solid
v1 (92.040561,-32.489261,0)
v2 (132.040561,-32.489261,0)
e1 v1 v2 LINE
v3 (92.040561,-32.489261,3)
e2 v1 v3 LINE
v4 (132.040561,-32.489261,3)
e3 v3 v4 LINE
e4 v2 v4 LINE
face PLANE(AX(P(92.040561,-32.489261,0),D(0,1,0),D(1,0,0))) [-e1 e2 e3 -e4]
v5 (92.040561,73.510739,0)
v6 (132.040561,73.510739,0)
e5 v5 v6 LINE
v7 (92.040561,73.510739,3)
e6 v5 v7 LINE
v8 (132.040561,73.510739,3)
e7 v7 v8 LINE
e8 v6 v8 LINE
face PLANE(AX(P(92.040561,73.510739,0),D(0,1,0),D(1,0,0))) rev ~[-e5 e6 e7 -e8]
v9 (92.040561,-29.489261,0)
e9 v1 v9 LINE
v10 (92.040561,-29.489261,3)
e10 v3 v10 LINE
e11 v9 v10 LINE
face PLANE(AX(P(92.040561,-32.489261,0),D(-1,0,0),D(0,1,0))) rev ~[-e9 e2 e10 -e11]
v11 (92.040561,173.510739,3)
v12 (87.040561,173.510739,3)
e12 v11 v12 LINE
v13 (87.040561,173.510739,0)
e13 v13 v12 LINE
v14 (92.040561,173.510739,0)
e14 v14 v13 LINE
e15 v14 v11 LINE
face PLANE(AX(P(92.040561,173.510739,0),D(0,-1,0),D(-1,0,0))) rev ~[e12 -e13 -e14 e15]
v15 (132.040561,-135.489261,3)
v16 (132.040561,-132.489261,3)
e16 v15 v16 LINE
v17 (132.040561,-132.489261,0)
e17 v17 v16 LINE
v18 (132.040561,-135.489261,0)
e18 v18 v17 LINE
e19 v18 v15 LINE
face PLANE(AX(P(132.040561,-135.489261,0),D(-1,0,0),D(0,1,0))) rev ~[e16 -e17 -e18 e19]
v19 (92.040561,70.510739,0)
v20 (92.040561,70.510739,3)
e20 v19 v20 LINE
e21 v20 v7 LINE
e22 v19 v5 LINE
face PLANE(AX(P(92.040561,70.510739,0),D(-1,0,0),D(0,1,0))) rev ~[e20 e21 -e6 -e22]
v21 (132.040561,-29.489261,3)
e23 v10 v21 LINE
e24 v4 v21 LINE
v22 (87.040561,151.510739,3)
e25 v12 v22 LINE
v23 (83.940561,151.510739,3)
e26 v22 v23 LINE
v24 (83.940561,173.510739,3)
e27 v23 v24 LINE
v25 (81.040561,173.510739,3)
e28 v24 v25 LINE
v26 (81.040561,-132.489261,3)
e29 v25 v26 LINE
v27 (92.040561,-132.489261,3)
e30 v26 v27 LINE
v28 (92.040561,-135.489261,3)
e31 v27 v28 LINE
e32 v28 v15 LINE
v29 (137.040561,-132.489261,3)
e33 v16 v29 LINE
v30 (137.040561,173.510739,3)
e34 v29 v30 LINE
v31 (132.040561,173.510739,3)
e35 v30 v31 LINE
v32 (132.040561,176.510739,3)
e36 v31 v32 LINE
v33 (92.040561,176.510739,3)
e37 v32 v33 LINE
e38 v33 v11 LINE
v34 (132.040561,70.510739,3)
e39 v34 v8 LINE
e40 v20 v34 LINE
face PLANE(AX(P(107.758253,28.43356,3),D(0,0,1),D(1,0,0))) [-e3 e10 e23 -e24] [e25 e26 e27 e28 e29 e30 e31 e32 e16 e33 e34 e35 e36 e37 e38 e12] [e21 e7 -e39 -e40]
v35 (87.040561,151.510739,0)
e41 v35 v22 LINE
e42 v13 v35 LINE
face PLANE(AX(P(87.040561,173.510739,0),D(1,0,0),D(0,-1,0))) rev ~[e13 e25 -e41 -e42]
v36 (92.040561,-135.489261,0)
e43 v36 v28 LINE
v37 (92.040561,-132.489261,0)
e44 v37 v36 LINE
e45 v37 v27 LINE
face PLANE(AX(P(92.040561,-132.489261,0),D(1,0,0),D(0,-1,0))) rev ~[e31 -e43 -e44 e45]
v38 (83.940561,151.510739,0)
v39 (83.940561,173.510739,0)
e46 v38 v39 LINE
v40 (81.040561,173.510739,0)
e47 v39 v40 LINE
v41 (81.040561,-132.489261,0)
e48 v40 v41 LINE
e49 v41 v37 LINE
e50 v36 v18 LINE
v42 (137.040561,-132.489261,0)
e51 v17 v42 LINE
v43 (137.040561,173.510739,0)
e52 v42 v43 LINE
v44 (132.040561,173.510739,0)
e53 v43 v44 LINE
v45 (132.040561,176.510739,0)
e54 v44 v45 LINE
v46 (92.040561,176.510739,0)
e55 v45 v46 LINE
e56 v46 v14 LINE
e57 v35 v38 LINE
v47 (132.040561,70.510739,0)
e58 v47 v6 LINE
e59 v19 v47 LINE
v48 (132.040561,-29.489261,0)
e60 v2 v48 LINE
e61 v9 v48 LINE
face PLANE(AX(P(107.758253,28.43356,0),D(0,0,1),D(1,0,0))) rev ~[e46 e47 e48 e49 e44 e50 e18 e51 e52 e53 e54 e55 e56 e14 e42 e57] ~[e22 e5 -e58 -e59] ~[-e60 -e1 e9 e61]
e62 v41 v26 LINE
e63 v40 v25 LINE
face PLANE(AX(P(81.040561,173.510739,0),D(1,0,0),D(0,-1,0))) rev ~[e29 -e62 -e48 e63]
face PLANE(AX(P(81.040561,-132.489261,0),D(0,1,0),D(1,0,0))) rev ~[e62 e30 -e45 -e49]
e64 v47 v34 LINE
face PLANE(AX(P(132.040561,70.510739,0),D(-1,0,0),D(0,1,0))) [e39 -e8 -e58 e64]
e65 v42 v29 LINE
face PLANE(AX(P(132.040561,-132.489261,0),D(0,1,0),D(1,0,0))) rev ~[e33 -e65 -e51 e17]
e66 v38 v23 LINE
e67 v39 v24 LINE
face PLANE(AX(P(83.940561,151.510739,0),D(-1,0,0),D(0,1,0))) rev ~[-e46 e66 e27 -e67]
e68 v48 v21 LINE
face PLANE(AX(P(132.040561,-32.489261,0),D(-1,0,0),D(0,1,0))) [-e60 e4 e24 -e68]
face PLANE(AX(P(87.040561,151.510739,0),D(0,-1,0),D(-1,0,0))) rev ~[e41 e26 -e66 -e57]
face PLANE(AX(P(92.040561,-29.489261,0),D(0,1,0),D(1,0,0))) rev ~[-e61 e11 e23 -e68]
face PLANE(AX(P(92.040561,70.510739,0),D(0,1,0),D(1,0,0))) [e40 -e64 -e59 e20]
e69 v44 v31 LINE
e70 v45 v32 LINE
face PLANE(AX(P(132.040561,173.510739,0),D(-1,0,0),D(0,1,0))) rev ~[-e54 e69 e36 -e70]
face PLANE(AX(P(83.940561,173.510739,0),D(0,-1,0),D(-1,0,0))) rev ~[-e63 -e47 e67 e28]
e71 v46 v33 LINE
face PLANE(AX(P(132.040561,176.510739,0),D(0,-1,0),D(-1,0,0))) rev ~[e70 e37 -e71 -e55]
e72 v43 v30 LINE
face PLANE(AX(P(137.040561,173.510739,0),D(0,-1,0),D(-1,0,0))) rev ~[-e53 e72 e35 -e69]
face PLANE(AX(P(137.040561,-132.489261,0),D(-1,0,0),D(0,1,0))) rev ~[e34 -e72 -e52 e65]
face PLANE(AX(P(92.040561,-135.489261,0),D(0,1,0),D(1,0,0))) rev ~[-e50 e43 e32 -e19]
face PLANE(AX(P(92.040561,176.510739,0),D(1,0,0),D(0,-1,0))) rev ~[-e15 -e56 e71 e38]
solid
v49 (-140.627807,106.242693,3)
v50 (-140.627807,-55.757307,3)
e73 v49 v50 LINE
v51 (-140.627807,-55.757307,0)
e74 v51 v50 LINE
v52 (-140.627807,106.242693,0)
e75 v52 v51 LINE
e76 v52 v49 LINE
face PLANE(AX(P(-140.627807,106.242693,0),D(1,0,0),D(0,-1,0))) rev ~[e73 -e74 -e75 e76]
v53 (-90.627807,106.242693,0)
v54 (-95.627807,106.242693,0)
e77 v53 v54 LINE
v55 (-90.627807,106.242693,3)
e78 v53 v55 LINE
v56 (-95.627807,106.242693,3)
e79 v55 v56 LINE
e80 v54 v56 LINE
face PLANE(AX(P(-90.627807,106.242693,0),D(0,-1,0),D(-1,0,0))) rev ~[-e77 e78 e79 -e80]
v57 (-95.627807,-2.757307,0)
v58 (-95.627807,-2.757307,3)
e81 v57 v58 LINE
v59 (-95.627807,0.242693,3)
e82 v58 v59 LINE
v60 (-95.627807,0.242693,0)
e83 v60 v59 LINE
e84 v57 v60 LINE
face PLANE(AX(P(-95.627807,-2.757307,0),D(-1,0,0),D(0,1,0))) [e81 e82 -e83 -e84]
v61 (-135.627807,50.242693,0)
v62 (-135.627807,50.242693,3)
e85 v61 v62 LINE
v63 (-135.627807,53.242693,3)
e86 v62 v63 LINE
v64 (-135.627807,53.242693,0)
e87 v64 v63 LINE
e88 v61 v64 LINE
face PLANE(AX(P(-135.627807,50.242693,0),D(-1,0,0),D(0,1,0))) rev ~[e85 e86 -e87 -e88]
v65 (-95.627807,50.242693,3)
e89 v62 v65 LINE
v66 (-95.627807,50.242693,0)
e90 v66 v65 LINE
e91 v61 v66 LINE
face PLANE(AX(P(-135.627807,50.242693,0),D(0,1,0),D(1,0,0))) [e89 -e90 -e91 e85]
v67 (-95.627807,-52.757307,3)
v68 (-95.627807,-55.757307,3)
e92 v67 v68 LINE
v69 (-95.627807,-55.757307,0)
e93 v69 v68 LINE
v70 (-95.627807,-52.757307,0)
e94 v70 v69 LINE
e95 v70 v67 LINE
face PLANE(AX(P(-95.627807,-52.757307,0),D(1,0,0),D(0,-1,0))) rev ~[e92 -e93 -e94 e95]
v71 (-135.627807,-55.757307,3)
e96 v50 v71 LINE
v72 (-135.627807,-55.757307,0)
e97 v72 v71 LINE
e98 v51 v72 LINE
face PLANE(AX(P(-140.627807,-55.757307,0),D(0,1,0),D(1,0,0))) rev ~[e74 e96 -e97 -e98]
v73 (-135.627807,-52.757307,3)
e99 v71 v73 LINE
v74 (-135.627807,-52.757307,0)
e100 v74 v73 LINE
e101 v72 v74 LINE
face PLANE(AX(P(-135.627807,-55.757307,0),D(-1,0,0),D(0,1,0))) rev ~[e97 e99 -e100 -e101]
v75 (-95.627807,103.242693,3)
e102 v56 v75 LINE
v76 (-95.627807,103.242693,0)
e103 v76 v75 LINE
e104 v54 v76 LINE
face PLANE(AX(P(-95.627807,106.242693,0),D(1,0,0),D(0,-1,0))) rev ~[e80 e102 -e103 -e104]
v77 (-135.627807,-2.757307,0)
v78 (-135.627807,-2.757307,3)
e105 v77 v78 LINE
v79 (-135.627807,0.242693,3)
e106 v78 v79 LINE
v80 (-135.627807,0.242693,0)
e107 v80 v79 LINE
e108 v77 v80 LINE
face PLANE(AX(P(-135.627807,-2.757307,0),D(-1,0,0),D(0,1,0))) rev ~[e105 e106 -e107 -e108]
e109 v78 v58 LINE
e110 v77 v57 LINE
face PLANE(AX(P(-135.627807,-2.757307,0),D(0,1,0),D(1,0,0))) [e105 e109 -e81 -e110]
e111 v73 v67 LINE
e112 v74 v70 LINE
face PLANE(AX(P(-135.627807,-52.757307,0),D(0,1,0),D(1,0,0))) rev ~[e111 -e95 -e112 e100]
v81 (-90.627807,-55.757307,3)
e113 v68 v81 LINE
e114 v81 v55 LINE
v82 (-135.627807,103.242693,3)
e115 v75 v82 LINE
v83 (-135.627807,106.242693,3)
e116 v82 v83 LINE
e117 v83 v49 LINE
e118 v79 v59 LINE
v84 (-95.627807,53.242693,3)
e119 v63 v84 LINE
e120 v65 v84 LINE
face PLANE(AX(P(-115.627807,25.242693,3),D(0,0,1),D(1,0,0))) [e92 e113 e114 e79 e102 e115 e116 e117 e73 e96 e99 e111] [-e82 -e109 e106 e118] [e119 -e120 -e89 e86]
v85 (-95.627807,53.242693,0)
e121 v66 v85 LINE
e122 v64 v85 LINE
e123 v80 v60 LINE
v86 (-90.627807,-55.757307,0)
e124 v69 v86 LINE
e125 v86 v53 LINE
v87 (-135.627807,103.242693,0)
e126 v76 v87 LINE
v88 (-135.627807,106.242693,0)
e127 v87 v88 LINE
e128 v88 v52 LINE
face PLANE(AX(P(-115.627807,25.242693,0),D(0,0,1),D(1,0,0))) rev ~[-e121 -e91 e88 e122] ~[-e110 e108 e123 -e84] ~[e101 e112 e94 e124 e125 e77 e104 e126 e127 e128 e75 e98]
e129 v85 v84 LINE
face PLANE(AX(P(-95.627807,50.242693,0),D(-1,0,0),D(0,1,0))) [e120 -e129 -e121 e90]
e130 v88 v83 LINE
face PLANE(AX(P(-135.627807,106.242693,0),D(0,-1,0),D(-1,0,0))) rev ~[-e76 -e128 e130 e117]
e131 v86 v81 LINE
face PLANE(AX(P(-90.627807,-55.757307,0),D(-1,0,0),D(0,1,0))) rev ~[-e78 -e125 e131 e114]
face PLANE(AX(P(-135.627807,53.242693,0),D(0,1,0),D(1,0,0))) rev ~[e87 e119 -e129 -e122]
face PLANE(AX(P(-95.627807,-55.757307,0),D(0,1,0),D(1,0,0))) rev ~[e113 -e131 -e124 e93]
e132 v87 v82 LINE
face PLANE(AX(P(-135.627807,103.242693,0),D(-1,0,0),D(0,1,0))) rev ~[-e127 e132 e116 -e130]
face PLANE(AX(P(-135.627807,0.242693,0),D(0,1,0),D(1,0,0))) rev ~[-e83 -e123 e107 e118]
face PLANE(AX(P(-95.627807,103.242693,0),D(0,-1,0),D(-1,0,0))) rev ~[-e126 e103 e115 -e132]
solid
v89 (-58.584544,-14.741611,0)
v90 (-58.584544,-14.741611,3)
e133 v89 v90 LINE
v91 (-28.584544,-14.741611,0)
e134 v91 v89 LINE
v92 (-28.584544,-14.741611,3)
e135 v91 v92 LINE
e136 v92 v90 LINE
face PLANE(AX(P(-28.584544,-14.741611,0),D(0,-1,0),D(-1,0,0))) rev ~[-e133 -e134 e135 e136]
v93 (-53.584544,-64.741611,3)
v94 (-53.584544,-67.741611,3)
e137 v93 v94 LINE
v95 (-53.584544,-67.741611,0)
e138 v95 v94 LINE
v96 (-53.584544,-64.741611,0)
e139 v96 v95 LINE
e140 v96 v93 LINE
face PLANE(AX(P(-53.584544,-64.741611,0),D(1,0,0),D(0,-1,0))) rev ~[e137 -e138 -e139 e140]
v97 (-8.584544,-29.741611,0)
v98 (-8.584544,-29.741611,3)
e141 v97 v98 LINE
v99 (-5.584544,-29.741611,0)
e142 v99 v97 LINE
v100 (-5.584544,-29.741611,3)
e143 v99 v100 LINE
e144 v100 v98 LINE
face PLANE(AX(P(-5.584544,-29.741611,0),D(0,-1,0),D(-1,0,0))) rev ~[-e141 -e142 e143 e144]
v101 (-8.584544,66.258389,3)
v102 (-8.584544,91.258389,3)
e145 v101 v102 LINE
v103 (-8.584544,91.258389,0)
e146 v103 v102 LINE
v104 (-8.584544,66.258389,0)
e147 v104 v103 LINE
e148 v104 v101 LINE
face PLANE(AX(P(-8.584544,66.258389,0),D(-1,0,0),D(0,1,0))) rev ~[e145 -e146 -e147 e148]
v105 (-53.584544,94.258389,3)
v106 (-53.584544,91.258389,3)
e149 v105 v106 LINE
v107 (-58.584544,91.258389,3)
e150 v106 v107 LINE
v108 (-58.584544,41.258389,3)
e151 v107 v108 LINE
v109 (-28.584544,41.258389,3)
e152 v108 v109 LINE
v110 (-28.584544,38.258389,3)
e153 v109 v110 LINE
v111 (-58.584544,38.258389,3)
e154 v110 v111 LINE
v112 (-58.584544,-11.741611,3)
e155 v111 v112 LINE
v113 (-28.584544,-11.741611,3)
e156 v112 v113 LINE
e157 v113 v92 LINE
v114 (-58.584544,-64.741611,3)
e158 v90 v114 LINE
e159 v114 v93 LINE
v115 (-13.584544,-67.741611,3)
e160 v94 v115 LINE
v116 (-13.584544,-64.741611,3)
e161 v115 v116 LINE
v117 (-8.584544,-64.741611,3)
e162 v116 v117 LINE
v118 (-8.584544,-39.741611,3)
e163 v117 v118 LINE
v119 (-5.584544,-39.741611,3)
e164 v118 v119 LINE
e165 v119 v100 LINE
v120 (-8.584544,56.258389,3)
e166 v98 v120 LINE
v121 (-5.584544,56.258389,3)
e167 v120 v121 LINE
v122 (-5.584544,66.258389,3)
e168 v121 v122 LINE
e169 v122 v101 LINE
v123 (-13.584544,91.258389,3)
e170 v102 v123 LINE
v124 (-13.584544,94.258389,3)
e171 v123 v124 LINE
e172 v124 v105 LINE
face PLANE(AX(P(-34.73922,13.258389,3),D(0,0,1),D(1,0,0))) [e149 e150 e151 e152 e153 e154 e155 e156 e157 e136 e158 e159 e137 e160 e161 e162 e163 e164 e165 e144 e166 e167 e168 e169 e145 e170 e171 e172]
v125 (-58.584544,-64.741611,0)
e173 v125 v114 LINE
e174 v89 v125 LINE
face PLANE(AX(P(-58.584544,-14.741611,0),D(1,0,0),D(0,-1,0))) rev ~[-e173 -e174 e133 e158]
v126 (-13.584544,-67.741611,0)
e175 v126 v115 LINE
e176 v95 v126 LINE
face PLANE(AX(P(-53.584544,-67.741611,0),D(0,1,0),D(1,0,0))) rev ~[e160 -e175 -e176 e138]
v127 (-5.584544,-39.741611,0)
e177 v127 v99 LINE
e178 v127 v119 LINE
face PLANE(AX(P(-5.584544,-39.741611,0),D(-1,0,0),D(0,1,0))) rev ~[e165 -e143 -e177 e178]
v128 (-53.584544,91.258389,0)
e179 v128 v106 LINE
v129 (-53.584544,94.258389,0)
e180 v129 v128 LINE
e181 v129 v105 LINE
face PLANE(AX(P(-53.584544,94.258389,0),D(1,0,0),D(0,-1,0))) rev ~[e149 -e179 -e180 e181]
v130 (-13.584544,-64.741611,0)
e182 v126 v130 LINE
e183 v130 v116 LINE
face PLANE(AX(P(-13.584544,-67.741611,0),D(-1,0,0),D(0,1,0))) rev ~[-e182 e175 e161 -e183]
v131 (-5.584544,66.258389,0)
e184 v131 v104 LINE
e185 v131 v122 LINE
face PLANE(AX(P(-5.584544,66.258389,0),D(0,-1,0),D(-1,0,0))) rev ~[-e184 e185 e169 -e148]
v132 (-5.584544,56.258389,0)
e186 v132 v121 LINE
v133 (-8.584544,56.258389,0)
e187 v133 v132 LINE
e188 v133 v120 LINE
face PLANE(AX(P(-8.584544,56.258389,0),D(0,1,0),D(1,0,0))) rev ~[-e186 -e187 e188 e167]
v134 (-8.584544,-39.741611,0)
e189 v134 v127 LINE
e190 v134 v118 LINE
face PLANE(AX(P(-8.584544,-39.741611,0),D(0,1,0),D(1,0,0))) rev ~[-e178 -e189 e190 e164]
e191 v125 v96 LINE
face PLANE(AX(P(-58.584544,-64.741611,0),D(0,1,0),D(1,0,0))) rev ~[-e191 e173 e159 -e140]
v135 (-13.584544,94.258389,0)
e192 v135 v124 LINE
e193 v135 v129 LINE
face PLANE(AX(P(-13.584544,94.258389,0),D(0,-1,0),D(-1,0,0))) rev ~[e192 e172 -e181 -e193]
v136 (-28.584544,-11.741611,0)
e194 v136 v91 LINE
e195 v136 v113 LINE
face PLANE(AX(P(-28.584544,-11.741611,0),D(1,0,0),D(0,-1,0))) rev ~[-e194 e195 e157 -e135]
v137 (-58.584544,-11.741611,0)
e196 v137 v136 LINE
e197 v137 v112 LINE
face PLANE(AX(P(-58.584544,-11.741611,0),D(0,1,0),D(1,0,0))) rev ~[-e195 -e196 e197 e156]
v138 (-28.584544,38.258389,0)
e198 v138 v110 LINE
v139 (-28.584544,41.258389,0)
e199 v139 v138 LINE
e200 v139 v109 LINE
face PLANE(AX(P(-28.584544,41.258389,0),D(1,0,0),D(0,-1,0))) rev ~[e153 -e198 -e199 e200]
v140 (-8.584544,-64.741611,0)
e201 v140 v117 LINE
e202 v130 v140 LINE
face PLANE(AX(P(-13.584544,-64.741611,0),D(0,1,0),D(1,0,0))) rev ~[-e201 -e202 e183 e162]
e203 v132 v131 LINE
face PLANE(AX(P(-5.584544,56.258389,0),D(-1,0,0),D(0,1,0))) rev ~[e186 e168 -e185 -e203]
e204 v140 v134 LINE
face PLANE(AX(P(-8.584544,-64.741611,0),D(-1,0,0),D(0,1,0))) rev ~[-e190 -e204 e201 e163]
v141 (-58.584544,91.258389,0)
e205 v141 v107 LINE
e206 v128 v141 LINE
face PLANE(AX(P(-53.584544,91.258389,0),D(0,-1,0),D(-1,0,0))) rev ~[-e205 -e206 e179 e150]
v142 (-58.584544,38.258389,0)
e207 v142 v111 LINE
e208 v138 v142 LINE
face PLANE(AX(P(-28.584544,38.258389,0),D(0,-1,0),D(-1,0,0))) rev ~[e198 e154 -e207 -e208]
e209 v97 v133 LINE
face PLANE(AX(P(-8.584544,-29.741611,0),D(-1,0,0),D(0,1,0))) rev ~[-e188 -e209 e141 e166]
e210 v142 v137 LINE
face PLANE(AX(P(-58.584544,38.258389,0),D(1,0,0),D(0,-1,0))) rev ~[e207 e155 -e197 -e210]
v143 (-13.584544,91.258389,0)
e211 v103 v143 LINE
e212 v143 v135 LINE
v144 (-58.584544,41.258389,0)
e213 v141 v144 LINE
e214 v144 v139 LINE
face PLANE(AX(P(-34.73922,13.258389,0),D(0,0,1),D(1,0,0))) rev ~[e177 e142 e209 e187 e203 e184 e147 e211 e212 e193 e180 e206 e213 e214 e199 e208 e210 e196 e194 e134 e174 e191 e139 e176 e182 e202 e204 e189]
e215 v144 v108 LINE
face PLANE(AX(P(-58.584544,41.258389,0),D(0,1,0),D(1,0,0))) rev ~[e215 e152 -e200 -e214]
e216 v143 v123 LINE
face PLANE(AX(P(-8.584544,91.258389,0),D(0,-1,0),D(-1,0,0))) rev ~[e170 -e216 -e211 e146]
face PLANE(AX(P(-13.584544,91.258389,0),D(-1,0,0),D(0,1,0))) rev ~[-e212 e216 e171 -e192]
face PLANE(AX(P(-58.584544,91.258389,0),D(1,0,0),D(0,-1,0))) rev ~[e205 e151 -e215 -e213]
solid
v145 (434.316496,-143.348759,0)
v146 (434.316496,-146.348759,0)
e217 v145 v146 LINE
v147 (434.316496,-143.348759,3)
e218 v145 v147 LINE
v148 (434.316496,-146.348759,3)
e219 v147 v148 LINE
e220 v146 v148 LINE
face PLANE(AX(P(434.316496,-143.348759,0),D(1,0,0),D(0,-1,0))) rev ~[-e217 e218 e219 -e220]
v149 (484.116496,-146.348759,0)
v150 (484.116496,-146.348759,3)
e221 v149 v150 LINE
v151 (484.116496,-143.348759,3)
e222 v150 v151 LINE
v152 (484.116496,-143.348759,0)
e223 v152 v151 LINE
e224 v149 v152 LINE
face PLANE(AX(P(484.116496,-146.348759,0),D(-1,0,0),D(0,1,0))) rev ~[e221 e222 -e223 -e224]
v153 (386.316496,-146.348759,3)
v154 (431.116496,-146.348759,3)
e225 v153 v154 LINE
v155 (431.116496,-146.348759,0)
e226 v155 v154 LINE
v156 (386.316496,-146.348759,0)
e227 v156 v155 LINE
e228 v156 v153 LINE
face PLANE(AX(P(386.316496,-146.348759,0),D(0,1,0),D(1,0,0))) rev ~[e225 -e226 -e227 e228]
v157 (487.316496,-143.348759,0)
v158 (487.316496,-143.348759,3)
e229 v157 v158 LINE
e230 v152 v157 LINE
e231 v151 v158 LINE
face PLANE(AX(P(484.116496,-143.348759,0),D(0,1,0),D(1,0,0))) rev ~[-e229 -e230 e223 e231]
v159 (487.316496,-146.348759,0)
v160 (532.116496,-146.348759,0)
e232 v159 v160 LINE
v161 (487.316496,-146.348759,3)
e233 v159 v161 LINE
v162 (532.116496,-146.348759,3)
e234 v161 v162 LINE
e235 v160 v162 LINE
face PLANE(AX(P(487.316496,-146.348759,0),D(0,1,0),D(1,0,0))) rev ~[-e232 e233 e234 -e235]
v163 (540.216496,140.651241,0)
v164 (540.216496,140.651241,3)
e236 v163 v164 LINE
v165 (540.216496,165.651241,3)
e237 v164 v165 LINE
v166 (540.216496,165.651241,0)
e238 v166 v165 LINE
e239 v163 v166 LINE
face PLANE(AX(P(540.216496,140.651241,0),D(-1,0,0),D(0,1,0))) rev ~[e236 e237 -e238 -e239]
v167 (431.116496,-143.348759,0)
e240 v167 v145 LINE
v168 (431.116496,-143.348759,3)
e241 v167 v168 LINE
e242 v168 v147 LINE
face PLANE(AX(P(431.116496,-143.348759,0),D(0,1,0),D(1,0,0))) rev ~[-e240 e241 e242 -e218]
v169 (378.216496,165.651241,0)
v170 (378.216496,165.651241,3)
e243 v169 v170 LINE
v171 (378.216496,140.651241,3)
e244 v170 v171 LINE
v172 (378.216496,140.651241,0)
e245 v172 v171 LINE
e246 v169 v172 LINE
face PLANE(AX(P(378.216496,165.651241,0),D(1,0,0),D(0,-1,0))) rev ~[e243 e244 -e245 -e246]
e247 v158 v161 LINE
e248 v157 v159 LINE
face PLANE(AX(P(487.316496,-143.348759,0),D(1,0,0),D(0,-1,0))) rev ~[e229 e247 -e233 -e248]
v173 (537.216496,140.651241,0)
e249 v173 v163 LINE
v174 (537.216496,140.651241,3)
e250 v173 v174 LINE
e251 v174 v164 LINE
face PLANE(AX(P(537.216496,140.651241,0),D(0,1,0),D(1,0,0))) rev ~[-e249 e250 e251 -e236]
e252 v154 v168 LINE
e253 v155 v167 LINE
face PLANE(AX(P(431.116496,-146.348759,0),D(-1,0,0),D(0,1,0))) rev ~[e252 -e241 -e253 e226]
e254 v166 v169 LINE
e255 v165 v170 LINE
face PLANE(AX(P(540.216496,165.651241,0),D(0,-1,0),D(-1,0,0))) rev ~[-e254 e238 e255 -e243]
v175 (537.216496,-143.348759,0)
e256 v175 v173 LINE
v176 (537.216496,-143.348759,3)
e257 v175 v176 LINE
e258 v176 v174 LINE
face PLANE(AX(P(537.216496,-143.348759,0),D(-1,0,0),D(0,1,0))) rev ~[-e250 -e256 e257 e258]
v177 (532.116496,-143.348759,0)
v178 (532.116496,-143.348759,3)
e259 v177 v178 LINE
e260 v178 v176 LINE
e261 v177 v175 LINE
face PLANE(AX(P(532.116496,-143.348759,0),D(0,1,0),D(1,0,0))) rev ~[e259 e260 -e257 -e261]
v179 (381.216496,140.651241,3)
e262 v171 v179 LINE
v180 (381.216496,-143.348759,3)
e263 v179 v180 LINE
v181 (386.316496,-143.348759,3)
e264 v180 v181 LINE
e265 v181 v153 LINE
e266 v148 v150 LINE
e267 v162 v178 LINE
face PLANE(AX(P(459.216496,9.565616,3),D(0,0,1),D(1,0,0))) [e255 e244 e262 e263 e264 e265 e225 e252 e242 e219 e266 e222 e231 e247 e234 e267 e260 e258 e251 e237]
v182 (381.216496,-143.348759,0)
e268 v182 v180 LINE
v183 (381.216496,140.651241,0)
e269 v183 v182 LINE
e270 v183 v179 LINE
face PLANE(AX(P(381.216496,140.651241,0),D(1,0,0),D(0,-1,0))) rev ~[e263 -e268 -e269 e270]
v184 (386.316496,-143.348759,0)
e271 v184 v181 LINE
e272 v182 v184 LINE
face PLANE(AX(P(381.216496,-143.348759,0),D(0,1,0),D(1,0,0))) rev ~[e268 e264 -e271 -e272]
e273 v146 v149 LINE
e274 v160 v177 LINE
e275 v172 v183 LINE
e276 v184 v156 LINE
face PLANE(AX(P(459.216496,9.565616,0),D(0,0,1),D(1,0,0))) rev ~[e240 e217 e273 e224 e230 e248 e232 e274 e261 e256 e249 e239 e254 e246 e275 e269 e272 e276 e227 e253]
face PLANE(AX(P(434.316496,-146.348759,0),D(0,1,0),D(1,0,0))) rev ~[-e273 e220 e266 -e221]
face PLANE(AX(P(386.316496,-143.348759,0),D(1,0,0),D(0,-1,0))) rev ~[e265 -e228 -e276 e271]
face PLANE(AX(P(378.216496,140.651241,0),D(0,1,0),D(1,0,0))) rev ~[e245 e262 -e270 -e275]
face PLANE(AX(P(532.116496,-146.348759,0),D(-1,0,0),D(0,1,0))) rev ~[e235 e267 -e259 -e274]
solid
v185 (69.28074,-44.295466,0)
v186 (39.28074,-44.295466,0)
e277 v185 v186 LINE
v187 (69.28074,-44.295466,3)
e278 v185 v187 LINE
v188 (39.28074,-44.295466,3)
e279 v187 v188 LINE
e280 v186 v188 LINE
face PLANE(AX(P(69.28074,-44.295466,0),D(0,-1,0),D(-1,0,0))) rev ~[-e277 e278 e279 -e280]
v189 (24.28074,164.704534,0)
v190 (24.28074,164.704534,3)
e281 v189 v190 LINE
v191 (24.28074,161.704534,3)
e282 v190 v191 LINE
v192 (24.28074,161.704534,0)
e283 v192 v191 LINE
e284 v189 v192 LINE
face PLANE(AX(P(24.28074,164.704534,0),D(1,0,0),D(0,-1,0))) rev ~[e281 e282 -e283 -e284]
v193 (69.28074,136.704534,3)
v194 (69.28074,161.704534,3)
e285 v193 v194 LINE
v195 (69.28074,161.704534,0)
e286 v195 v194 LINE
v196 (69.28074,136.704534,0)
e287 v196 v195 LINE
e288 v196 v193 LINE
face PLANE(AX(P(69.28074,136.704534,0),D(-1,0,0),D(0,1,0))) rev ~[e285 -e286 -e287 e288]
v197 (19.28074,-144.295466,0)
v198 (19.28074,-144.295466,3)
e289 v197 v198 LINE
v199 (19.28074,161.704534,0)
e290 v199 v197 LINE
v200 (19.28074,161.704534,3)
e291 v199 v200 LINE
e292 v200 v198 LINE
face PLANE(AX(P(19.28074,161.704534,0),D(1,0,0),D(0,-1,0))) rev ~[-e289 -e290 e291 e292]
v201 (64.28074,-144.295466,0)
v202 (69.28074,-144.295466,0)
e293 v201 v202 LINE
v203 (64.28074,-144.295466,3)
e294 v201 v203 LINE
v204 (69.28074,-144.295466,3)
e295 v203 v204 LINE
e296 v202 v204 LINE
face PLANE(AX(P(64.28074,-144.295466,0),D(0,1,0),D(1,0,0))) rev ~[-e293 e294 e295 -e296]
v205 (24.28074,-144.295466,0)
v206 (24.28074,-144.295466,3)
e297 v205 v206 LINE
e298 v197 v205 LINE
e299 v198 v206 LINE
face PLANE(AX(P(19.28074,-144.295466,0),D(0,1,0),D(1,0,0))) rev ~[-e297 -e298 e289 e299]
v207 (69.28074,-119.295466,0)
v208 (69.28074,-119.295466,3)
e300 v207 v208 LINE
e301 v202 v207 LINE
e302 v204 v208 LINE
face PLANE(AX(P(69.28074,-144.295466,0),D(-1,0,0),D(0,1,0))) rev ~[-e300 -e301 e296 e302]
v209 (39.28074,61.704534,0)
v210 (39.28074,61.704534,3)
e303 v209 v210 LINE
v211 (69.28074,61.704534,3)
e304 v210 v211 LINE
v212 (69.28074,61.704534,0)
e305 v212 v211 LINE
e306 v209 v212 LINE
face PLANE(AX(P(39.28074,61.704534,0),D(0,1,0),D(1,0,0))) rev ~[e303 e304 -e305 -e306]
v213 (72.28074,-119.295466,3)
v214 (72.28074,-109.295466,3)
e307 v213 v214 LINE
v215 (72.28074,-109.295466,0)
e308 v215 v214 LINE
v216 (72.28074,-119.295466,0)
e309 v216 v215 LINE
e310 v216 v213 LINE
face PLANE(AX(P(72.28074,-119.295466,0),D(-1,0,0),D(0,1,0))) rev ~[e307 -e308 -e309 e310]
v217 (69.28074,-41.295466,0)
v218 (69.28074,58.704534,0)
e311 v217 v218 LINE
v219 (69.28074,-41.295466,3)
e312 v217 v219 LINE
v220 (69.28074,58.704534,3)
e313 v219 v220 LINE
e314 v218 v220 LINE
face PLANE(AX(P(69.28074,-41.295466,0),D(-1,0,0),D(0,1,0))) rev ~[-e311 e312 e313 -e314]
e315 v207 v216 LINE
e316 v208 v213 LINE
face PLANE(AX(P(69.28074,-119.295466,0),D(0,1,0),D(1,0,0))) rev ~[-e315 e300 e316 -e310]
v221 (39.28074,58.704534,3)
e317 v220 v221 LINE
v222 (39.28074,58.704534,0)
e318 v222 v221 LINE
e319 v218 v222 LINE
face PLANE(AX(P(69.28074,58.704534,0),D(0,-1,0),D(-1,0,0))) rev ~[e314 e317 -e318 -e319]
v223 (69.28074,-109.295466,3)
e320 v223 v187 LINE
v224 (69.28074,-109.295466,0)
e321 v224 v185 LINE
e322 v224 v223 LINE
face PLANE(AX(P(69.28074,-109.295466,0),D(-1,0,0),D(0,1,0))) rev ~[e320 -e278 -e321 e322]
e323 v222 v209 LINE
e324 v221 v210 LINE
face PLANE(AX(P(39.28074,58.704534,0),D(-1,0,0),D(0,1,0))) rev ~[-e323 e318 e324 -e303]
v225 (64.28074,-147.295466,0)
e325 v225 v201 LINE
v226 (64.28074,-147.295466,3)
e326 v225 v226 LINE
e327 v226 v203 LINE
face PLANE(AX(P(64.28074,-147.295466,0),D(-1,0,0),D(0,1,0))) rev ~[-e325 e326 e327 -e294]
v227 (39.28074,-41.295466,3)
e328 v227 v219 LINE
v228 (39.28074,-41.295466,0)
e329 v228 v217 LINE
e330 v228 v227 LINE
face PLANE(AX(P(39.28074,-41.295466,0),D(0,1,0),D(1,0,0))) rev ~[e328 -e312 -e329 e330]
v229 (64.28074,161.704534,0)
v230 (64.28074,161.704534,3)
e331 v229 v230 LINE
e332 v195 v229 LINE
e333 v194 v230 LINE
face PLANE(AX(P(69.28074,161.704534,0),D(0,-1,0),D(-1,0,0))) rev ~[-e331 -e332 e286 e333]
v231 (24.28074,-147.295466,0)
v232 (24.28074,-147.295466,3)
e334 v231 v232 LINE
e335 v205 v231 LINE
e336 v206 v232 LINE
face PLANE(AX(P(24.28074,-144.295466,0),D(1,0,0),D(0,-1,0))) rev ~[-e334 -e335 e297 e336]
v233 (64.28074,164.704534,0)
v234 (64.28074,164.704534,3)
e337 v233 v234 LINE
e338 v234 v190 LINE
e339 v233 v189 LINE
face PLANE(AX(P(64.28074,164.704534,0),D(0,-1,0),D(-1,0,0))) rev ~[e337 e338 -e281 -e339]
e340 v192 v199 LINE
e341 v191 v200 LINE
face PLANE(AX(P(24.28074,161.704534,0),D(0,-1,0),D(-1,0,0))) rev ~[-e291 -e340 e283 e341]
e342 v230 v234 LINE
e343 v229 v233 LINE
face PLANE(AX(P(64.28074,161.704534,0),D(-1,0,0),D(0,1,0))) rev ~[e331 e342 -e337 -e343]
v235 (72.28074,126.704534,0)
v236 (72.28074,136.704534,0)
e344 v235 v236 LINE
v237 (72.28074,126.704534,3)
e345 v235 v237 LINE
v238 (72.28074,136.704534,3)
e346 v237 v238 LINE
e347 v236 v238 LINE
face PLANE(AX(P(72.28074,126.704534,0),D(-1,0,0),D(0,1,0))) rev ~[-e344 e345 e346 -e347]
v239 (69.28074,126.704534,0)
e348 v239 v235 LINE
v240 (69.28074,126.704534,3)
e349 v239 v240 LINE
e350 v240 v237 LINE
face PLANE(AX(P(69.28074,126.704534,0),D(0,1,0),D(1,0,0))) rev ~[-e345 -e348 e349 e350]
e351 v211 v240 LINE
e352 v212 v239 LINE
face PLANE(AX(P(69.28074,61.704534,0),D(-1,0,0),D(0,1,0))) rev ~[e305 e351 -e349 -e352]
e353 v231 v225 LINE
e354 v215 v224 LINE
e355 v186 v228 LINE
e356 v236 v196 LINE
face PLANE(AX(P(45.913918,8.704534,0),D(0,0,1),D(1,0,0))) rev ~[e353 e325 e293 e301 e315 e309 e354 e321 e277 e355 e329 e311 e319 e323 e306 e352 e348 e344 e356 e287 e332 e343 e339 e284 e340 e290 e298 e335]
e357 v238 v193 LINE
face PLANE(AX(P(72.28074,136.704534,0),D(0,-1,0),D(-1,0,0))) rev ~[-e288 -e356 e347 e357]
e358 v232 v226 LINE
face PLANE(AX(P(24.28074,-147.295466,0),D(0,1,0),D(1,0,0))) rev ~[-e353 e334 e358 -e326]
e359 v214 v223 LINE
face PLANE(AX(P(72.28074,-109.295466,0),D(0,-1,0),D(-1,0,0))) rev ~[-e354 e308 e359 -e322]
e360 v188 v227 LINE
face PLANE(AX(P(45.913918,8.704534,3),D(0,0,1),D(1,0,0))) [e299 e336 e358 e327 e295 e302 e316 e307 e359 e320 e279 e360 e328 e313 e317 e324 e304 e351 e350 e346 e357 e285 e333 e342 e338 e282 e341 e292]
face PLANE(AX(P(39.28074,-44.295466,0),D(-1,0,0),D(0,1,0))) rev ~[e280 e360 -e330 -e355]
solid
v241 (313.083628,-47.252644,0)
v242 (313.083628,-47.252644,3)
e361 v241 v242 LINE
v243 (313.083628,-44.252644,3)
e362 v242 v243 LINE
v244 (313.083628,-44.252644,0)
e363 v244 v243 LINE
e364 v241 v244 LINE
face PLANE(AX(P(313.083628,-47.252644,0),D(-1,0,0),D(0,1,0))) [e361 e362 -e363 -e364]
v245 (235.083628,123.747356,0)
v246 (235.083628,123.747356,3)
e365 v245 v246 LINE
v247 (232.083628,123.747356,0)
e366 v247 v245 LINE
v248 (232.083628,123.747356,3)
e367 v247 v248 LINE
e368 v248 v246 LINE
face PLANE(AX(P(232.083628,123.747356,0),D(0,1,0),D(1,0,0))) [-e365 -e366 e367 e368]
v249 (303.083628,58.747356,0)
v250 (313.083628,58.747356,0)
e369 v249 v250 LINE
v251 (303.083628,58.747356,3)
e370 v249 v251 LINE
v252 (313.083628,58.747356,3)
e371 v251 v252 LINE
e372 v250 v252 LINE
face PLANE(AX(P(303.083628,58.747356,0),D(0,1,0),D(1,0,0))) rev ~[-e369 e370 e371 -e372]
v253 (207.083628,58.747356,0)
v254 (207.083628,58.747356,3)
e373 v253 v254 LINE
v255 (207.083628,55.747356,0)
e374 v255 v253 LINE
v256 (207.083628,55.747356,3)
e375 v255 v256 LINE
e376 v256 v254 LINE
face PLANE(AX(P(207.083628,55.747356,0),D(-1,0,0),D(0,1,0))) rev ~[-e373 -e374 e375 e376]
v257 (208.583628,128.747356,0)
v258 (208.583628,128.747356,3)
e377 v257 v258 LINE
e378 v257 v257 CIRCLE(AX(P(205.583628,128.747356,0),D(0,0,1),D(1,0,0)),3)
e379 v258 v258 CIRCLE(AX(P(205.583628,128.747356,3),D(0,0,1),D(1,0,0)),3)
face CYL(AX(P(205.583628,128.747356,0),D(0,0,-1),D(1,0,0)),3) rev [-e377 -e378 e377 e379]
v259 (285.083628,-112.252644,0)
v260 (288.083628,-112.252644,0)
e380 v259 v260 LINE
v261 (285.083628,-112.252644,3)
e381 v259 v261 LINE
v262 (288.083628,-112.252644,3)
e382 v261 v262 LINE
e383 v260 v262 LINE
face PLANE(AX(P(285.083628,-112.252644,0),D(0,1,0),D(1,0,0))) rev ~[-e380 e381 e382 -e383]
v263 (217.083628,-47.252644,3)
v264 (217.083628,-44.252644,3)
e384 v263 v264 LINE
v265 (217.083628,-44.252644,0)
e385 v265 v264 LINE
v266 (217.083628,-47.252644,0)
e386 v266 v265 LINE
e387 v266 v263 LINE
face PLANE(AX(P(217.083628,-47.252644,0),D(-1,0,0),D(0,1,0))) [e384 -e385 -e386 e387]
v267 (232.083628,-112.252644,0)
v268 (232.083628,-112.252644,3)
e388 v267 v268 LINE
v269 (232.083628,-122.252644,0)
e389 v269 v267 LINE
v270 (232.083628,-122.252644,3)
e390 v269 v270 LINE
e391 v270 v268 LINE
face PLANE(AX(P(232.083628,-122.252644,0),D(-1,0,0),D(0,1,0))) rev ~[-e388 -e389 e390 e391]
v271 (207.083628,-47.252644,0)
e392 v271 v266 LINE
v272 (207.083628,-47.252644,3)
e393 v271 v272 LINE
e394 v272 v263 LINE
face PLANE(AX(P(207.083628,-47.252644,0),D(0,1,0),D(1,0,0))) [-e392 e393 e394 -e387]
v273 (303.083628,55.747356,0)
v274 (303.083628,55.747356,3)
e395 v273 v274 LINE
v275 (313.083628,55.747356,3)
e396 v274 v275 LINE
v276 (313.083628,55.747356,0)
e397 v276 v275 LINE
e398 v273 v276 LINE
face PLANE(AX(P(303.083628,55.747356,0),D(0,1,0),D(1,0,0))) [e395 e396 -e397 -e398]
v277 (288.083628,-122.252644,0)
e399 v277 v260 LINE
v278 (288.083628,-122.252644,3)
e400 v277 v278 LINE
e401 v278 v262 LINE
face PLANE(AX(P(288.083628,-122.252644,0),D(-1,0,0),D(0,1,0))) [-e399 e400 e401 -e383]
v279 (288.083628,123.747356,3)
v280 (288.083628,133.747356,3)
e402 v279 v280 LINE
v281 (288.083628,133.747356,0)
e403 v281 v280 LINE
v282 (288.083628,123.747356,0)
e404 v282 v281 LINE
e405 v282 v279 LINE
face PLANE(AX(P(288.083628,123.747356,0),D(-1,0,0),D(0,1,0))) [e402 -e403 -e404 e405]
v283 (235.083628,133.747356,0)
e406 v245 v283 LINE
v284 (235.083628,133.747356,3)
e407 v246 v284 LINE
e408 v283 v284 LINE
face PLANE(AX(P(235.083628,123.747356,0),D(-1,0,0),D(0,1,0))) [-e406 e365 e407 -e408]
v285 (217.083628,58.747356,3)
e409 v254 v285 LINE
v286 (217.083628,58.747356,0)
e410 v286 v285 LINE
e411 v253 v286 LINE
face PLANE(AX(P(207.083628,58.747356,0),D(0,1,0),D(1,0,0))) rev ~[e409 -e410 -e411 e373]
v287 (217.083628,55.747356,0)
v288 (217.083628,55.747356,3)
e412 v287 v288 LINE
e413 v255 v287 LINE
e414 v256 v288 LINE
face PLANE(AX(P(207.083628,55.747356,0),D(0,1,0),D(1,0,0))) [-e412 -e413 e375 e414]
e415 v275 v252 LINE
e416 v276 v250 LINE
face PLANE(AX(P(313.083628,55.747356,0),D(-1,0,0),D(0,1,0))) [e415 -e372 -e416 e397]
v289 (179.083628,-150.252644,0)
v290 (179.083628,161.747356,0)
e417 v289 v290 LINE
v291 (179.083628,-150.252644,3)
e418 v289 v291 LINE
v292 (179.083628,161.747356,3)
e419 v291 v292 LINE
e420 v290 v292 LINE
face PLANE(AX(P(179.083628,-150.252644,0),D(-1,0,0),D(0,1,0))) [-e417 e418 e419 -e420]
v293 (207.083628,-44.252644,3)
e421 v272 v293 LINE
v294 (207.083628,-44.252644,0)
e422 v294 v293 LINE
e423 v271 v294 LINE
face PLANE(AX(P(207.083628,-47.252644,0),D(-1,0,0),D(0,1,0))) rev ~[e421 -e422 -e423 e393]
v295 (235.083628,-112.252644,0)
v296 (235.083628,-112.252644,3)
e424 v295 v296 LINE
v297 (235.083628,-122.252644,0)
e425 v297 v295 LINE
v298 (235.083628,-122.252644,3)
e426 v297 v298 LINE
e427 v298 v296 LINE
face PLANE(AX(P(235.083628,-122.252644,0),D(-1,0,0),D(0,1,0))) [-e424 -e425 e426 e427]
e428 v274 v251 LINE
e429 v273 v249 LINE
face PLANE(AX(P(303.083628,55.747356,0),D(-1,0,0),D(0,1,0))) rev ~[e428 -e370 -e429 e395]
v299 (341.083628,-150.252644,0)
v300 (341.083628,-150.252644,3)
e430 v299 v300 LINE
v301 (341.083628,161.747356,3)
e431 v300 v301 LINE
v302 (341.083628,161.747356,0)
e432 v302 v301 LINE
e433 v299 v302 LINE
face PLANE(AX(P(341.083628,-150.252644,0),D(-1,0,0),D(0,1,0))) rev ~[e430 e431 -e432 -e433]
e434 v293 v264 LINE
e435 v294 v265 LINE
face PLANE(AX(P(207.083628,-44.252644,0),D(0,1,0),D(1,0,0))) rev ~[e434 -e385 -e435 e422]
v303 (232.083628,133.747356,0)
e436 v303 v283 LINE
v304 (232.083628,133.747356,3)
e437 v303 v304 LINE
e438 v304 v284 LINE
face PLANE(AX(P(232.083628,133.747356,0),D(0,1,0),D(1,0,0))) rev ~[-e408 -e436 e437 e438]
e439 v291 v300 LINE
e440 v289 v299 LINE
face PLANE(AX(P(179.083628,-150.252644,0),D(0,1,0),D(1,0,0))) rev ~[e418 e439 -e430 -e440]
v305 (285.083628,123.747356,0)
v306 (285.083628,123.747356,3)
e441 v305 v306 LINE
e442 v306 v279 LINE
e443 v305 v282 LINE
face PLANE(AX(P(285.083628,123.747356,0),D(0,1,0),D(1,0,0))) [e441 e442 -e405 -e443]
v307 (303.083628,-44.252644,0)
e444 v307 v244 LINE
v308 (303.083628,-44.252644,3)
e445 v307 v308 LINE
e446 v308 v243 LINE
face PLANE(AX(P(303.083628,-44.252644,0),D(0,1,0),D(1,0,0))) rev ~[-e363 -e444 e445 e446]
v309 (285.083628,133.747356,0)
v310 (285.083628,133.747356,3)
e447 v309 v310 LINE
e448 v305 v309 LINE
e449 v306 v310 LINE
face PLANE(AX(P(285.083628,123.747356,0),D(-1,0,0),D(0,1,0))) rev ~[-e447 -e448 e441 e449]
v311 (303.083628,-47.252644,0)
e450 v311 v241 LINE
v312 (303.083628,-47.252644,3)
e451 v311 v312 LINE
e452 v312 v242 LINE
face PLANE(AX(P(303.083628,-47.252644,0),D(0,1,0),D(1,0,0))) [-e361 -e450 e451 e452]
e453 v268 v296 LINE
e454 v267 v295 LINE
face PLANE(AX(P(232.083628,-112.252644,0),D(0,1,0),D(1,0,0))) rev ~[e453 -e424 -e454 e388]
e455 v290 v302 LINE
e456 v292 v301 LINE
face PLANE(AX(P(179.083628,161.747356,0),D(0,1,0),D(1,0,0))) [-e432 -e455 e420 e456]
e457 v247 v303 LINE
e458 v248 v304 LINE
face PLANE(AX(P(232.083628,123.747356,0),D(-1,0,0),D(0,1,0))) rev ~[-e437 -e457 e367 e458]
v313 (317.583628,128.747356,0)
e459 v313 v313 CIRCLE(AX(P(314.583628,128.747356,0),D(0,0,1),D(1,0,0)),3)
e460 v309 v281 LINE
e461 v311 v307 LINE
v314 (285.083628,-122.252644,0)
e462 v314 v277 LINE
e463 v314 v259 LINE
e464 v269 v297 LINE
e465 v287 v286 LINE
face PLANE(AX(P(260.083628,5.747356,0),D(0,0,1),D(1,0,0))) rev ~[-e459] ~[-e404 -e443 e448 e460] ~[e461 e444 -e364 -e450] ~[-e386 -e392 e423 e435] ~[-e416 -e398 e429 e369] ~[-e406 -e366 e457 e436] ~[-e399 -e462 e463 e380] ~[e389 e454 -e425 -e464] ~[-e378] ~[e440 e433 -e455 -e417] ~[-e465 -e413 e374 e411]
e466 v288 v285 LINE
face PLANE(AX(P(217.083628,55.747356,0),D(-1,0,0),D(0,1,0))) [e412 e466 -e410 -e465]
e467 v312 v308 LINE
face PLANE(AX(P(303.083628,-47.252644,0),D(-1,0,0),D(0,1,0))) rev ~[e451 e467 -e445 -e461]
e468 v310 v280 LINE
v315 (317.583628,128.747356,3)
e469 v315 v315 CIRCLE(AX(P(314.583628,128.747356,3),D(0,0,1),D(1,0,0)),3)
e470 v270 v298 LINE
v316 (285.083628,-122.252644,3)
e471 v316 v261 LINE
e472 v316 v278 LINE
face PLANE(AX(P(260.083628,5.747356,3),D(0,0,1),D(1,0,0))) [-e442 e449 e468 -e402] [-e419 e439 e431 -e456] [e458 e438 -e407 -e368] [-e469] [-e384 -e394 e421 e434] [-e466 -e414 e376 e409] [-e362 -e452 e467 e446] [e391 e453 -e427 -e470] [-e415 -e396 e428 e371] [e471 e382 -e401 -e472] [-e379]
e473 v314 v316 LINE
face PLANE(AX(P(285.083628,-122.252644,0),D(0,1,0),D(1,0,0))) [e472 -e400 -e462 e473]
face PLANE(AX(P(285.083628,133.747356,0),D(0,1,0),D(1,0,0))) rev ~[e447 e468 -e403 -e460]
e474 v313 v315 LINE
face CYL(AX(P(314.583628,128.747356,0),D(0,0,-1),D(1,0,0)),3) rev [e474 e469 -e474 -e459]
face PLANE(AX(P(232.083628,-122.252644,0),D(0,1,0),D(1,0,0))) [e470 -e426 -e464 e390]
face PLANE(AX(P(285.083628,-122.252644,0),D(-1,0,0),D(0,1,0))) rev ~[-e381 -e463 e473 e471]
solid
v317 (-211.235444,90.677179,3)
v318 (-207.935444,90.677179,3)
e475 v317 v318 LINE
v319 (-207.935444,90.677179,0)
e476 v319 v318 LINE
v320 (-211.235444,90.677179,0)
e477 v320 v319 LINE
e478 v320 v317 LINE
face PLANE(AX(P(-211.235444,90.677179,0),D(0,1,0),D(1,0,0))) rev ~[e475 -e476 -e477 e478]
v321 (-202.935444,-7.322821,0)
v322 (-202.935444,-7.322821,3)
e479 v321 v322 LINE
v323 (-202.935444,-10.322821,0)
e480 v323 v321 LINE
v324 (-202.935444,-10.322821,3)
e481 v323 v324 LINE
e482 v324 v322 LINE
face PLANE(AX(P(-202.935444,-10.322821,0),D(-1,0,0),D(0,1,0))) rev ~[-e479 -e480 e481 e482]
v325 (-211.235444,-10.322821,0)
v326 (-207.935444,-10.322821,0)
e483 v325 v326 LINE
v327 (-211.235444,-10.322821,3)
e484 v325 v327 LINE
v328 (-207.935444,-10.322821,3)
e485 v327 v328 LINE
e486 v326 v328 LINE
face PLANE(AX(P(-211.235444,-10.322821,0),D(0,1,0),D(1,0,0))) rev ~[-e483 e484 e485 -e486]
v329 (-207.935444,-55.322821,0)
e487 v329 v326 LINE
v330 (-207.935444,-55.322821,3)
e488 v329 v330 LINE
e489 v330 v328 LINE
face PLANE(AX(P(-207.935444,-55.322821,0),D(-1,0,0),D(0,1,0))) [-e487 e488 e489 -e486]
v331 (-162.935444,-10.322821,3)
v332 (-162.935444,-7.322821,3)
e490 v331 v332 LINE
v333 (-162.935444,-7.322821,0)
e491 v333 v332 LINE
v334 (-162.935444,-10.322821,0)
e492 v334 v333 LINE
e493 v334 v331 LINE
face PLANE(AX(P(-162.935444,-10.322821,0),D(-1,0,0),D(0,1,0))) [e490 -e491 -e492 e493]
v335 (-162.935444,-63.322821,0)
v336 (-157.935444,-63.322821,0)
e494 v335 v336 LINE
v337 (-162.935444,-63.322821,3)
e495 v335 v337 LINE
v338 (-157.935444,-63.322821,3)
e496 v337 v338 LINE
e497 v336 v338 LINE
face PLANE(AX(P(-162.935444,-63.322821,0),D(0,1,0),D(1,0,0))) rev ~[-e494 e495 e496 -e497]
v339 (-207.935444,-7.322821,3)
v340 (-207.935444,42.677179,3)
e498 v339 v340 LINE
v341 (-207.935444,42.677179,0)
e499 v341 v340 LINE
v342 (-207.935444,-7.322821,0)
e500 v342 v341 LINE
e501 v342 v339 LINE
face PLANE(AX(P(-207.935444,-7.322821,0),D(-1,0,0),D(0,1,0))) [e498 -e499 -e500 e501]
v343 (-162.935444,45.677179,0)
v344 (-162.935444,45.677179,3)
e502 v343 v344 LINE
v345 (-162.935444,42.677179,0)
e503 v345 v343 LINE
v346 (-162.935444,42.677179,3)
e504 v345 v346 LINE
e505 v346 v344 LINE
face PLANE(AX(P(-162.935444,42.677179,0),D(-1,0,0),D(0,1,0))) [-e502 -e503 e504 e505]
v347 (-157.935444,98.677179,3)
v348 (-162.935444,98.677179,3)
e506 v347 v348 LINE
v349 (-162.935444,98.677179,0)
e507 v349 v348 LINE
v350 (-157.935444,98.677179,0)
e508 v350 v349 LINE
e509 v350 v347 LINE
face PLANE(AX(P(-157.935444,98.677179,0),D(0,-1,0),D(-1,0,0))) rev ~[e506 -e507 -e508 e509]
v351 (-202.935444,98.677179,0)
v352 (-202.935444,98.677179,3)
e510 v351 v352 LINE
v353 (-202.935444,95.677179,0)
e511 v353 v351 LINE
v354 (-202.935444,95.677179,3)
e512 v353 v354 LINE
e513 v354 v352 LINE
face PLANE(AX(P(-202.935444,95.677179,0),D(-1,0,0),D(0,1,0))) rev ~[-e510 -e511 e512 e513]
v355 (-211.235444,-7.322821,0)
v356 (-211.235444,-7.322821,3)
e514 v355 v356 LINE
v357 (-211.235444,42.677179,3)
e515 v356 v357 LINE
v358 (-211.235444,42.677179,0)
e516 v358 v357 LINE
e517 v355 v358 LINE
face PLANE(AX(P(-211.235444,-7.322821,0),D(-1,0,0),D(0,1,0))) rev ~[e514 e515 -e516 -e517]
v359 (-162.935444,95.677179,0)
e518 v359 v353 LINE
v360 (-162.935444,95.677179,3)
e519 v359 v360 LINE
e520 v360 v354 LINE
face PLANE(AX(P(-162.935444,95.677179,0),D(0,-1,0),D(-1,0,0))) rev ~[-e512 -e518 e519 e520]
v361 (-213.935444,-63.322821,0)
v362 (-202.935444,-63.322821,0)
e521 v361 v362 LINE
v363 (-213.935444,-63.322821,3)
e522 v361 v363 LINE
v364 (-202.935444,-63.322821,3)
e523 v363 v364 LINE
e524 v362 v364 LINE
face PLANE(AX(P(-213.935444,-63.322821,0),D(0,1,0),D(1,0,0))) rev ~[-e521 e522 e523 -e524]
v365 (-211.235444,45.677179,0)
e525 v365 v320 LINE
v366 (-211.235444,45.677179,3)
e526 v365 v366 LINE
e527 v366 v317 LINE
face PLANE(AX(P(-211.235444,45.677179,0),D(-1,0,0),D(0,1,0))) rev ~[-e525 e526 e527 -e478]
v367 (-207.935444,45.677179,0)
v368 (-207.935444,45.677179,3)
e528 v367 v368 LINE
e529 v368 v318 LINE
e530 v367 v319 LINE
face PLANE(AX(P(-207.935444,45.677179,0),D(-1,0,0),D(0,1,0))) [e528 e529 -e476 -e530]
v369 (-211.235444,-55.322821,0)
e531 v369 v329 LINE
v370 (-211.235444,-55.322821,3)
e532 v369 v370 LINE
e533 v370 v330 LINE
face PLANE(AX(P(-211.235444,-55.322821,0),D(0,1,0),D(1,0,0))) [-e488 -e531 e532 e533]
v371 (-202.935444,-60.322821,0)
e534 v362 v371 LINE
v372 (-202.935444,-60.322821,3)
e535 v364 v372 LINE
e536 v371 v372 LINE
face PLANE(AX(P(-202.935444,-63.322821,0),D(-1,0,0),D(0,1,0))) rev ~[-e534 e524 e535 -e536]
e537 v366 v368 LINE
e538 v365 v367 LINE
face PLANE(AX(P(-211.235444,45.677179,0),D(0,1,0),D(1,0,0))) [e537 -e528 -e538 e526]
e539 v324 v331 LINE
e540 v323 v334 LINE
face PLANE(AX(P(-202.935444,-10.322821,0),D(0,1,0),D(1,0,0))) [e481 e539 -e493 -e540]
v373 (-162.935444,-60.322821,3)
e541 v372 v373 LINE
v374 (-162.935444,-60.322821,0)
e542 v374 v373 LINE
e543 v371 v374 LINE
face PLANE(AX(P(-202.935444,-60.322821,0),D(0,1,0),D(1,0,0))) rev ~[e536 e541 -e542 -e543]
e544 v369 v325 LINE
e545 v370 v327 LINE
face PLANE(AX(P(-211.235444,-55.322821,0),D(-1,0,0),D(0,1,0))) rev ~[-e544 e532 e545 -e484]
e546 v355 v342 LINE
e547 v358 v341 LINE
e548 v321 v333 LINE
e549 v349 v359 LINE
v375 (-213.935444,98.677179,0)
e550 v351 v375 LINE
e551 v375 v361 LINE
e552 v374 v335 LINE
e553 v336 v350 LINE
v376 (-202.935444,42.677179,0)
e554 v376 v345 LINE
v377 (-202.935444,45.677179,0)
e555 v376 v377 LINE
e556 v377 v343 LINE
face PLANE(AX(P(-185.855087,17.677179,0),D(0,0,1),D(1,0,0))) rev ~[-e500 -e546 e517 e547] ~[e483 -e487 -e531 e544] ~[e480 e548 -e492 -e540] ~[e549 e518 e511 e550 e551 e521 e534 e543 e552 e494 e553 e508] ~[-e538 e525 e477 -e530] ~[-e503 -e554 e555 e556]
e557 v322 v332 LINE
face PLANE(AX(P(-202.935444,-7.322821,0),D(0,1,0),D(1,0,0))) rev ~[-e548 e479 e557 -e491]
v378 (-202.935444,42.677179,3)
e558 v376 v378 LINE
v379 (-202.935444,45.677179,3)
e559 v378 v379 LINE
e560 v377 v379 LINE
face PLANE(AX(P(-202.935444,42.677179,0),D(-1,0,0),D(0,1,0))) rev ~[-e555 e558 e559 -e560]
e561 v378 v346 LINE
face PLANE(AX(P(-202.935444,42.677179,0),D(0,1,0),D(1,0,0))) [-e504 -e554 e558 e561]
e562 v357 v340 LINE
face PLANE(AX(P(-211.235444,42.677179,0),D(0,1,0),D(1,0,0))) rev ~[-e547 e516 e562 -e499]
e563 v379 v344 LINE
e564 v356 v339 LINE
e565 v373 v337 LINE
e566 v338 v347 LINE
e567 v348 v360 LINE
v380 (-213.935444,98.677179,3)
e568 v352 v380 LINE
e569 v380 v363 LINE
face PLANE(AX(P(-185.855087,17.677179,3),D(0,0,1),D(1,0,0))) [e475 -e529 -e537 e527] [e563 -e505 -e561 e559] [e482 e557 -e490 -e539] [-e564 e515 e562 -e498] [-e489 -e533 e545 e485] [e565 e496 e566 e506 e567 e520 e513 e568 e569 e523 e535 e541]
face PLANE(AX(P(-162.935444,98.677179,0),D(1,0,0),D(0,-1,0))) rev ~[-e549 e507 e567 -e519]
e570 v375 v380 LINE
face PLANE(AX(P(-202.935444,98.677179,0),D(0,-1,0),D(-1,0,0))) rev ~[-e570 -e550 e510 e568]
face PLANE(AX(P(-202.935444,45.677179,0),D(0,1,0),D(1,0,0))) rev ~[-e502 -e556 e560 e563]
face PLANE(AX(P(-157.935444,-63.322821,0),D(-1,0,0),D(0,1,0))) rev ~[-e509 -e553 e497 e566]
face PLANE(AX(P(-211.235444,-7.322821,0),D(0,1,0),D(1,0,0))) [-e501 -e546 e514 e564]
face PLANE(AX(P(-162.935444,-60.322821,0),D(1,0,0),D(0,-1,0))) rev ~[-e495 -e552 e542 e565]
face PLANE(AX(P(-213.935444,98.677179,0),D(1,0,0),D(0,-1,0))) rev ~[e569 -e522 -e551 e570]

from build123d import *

# Parameters (mm, degrees)
F1_DEPTH  = 3
F3_DEPTH  = 3
F4_W      = 40
F4_H      = 3
F5_DEPTH  = 3
F6_W      = 3.3
F6_H      = 45
F6_W_2    = 40
F6_H_2    = 3
F6_H_3    = 50
F7_DEPTH  = 3
F8_W      = 40
F8_H      = 3
F9_DEPTH  = 3
F10_W     = 162
F10_H     = 312
F10_W_2   = 3
F10_H_2   = 10
F10_W_3   = 10
F10_H_3   = 3
F10_R     = 3
F11_DEPTH = 3
F13_DEPTH = 3


with BuildPart() as f1:
    # F0 (on Top) → F1 (new body)
    with BuildSketch(Plane.XY):
        Polygon((-13.584544, 94.258389), (-53.584544, 94.258389), (-53.584544, 91.258389), (-58.584544, 91.258389), (-58.584544, 41.258389), (-28.584544, 41.258389), (-28.584544, 38.258389), (-58.584544, 38.258389), (-58.584544, -11.741611), (-28.584544, -11.741611), (-28.584544, -14.741611), (-58.584544, -14.741611), (-58.584544, -64.741611), (-53.584544, -64.741611), (-53.584544, -67.741611), (-13.584544, -67.741611), (-13.584544, -64.741611), (-8.584544, -64.741611), (-8.584544, -39.741611), (-5.584544, -39.741611), (-5.584544, -29.741611), (-8.584544, -29.741611), (-8.584544, 56.258389), (-5.584544, 56.258389), (-5.584544, 66.258389), (-8.584544, 66.258389), (-8.584544, 91.258389), (-13.584544, 91.258389), align=None)
    extrude(amount=F1_DEPTH)


with BuildPart() as f3:
    # F2 (on Top) → F3 (new body)
    with BuildSketch(Plane.XY):
        Polygon((64.28074, 164.704534), (24.28074, 164.704534), (24.28074, 161.704534), (19.28074, 161.704534), (19.28074, -144.295466), (24.28074, -144.295466), (24.28074, -147.295466), (64.28074, -147.295466), (64.28074, -144.295466), (69.28074, -144.295466), (69.28074, -119.295466), (72.28074, -119.295466), (72.28074, -109.295466), (69.28074, -109.295466), (69.28074, -44.295466), (39.28074, -44.295466), (39.28074, -41.295466), (69.28074, -41.295466), (69.28074, 58.704534), (39.28074, 58.704534), (39.28074, 61.704534), (69.28074, 61.704534), (69.28074, 126.704534), (72.28074, 126.704534), (72.28074, 136.704534), (69.28074, 136.704534), (69.28074, 161.704534), (64.28074, 161.704534), align=None)
    extrude(amount=F3_DEPTH)


with BuildPart() as f5:
    # F4 (on Top) → F5 (new body)
    with BuildSketch(Plane.XY):
        Polygon((-135.627807, 106.242693), (-140.627807, 106.242693), (-140.627807, -55.757307), (-135.627807, -55.757307), (-135.627807, -52.757307), (-95.627807, -52.757307), (-95.627807, -55.757307), (-90.627807, -55.757307), (-90.627807, 106.242693), (-95.627807, 106.242693), (-95.627807, 103.242693), (-135.627807, 103.242693), align=None)
        with Locations((-115.627807, -1.257307)):
            Rectangle(F4_W, F4_H, mode=Mode.SUBTRACT)
        with Locations((-115.627807, 51.742693)):
            Rectangle(F4_W, F4_H, mode=Mode.SUBTRACT)
    extrude(amount=F5_DEPTH)


with BuildPart() as f7:
    # F6 (on Top) → F7 (new body)
    with BuildSketch(Plane.XY):
        Polygon((-202.935444, 98.677179), (-213.935444, 98.677179), (-213.935444, -63.322821), (-202.935444, -63.322821), (-202.935444, -60.322821), (-162.935444, -60.322821), (-162.935444, -63.322821), (-157.935444, -63.322821), (-157.935444, 98.677179), (-162.935444, 98.677179), (-162.935444, 95.677179), (-202.935444, 95.677179), align=None)
        with Locations((-209.585444, -32.822821)):
            Rectangle(F6_W, F6_H, mode=Mode.SUBTRACT)
        with Locations((-182.935444, -8.822821)):
            Rectangle(F6_W_2, F6_H_2, mode=Mode.SUBTRACT)
        with Locations((-209.585444, 17.677179)):
            Rectangle(F6_W, F6_H_3, mode=Mode.SUBTRACT)
        with Locations((-209.585444, 68.177179)):
            Rectangle(F6_W, F6_H, mode=Mode.SUBTRACT)
        with Locations((-182.935444, 44.177179)):
            Rectangle(F6_W_2, F6_H_2, mode=Mode.SUBTRACT)
    extrude(amount=F7_DEPTH)


with BuildPart() as f9:
    # F8 (on Top) → F9 (new body)
    with BuildSketch(Plane.XY):
        Polygon((132.040561, 176.510739), (92.040561, 176.510739), (92.040561, 173.510739), (87.040561, 173.510739), (87.040561, 151.510739), (83.940561, 151.510739), (83.940561, 173.510739), (81.040561, 173.510739), (81.040561, -132.489261), (92.040561, -132.489261), (92.040561, -135.489261), (132.040561, -135.489261), (132.040561, -132.489261), (137.040561, -132.489261), (137.040561, 173.510739), (132.040561, 173.510739), align=None)
        with Locations((112.040561, -30.989261)):
            Rectangle(F8_W, F8_H, mode=Mode.SUBTRACT)
        with Locations((112.040561, 72.010739)):
            Rectangle(F8_W, F8_H, mode=Mode.SUBTRACT)
    extrude(amount=F9_DEPTH)


with BuildPart() as f11:
    # F10 (on Top) → F11 (new body)
    with BuildSketch(Plane.XY):
        with Locations((260.083628, 5.747356)):
            Rectangle(F10_W, F10_H)
        with Locations((233.583628, -117.252644)):
            Rectangle(F10_W_2, F10_H_2, mode=Mode.SUBTRACT)
        with Locations((212.083628, -45.752644)):
            Rectangle(F10_W_3, F10_H_3, mode=Mode.SUBTRACT)
        with Locations((286.583628, -117.252644)):
            Rectangle(F10_W_2, F10_H_2, mode=Mode.SUBTRACT)
        with Locations((308.083628, -45.752644)):
            Rectangle(F10_W_3, F10_H_3, mode=Mode.SUBTRACT)
        with Locations((212.083628, 57.247356)):
            Rectangle(F10_W_3, F10_H_3, mode=Mode.SUBTRACT)
        with Locations((205.583628, 128.747356)):
            Circle(F10_R, mode=Mode.SUBTRACT)
        with Locations((233.583628, 128.747356)):
            Rectangle(F10_W_2, F10_H_2, mode=Mode.SUBTRACT)
        with Locations((308.083628, 57.247356)):
            Rectangle(F10_W_3, F10_H_3, mode=Mode.SUBTRACT)
        with Locations((286.583628, 128.747356)):
            Rectangle(F10_W_2, F10_H_2, mode=Mode.SUBTRACT)
        with Locations((314.583628, 128.747356)):
            Circle(F10_R, mode=Mode.SUBTRACT)
    extrude(amount=F11_DEPTH)


with BuildPart() as f13:
    # F12 (on Top) → F13 (new body)
    with BuildSketch(Plane.XY):
        Polygon((540.216496, 165.651241), (378.216496, 165.651241), (378.216496, 140.651241), (381.216496, 140.651241), (381.216496, -143.348759), (386.316496, -143.348759), (386.316496, -146.348759), (431.116496, -146.348759), (431.116496, -143.348759), (434.316496, -143.348759), (434.316496, -146.348759), (484.116496, -146.348759), (484.116496, -143.348759), (487.316496, -143.348759), (487.316496, -146.348759), (532.116496, -146.348759), (532.116496, -143.348759), (537.216496, -143.348759), (537.216496, 140.651241), (540.216496, 140.651241), align=None)
    extrude(amount=F13_DEPTH)


solid = Compound([f1.part, f3.part, f5.part, f7.part, f9.part, f11.part, f13.part])
